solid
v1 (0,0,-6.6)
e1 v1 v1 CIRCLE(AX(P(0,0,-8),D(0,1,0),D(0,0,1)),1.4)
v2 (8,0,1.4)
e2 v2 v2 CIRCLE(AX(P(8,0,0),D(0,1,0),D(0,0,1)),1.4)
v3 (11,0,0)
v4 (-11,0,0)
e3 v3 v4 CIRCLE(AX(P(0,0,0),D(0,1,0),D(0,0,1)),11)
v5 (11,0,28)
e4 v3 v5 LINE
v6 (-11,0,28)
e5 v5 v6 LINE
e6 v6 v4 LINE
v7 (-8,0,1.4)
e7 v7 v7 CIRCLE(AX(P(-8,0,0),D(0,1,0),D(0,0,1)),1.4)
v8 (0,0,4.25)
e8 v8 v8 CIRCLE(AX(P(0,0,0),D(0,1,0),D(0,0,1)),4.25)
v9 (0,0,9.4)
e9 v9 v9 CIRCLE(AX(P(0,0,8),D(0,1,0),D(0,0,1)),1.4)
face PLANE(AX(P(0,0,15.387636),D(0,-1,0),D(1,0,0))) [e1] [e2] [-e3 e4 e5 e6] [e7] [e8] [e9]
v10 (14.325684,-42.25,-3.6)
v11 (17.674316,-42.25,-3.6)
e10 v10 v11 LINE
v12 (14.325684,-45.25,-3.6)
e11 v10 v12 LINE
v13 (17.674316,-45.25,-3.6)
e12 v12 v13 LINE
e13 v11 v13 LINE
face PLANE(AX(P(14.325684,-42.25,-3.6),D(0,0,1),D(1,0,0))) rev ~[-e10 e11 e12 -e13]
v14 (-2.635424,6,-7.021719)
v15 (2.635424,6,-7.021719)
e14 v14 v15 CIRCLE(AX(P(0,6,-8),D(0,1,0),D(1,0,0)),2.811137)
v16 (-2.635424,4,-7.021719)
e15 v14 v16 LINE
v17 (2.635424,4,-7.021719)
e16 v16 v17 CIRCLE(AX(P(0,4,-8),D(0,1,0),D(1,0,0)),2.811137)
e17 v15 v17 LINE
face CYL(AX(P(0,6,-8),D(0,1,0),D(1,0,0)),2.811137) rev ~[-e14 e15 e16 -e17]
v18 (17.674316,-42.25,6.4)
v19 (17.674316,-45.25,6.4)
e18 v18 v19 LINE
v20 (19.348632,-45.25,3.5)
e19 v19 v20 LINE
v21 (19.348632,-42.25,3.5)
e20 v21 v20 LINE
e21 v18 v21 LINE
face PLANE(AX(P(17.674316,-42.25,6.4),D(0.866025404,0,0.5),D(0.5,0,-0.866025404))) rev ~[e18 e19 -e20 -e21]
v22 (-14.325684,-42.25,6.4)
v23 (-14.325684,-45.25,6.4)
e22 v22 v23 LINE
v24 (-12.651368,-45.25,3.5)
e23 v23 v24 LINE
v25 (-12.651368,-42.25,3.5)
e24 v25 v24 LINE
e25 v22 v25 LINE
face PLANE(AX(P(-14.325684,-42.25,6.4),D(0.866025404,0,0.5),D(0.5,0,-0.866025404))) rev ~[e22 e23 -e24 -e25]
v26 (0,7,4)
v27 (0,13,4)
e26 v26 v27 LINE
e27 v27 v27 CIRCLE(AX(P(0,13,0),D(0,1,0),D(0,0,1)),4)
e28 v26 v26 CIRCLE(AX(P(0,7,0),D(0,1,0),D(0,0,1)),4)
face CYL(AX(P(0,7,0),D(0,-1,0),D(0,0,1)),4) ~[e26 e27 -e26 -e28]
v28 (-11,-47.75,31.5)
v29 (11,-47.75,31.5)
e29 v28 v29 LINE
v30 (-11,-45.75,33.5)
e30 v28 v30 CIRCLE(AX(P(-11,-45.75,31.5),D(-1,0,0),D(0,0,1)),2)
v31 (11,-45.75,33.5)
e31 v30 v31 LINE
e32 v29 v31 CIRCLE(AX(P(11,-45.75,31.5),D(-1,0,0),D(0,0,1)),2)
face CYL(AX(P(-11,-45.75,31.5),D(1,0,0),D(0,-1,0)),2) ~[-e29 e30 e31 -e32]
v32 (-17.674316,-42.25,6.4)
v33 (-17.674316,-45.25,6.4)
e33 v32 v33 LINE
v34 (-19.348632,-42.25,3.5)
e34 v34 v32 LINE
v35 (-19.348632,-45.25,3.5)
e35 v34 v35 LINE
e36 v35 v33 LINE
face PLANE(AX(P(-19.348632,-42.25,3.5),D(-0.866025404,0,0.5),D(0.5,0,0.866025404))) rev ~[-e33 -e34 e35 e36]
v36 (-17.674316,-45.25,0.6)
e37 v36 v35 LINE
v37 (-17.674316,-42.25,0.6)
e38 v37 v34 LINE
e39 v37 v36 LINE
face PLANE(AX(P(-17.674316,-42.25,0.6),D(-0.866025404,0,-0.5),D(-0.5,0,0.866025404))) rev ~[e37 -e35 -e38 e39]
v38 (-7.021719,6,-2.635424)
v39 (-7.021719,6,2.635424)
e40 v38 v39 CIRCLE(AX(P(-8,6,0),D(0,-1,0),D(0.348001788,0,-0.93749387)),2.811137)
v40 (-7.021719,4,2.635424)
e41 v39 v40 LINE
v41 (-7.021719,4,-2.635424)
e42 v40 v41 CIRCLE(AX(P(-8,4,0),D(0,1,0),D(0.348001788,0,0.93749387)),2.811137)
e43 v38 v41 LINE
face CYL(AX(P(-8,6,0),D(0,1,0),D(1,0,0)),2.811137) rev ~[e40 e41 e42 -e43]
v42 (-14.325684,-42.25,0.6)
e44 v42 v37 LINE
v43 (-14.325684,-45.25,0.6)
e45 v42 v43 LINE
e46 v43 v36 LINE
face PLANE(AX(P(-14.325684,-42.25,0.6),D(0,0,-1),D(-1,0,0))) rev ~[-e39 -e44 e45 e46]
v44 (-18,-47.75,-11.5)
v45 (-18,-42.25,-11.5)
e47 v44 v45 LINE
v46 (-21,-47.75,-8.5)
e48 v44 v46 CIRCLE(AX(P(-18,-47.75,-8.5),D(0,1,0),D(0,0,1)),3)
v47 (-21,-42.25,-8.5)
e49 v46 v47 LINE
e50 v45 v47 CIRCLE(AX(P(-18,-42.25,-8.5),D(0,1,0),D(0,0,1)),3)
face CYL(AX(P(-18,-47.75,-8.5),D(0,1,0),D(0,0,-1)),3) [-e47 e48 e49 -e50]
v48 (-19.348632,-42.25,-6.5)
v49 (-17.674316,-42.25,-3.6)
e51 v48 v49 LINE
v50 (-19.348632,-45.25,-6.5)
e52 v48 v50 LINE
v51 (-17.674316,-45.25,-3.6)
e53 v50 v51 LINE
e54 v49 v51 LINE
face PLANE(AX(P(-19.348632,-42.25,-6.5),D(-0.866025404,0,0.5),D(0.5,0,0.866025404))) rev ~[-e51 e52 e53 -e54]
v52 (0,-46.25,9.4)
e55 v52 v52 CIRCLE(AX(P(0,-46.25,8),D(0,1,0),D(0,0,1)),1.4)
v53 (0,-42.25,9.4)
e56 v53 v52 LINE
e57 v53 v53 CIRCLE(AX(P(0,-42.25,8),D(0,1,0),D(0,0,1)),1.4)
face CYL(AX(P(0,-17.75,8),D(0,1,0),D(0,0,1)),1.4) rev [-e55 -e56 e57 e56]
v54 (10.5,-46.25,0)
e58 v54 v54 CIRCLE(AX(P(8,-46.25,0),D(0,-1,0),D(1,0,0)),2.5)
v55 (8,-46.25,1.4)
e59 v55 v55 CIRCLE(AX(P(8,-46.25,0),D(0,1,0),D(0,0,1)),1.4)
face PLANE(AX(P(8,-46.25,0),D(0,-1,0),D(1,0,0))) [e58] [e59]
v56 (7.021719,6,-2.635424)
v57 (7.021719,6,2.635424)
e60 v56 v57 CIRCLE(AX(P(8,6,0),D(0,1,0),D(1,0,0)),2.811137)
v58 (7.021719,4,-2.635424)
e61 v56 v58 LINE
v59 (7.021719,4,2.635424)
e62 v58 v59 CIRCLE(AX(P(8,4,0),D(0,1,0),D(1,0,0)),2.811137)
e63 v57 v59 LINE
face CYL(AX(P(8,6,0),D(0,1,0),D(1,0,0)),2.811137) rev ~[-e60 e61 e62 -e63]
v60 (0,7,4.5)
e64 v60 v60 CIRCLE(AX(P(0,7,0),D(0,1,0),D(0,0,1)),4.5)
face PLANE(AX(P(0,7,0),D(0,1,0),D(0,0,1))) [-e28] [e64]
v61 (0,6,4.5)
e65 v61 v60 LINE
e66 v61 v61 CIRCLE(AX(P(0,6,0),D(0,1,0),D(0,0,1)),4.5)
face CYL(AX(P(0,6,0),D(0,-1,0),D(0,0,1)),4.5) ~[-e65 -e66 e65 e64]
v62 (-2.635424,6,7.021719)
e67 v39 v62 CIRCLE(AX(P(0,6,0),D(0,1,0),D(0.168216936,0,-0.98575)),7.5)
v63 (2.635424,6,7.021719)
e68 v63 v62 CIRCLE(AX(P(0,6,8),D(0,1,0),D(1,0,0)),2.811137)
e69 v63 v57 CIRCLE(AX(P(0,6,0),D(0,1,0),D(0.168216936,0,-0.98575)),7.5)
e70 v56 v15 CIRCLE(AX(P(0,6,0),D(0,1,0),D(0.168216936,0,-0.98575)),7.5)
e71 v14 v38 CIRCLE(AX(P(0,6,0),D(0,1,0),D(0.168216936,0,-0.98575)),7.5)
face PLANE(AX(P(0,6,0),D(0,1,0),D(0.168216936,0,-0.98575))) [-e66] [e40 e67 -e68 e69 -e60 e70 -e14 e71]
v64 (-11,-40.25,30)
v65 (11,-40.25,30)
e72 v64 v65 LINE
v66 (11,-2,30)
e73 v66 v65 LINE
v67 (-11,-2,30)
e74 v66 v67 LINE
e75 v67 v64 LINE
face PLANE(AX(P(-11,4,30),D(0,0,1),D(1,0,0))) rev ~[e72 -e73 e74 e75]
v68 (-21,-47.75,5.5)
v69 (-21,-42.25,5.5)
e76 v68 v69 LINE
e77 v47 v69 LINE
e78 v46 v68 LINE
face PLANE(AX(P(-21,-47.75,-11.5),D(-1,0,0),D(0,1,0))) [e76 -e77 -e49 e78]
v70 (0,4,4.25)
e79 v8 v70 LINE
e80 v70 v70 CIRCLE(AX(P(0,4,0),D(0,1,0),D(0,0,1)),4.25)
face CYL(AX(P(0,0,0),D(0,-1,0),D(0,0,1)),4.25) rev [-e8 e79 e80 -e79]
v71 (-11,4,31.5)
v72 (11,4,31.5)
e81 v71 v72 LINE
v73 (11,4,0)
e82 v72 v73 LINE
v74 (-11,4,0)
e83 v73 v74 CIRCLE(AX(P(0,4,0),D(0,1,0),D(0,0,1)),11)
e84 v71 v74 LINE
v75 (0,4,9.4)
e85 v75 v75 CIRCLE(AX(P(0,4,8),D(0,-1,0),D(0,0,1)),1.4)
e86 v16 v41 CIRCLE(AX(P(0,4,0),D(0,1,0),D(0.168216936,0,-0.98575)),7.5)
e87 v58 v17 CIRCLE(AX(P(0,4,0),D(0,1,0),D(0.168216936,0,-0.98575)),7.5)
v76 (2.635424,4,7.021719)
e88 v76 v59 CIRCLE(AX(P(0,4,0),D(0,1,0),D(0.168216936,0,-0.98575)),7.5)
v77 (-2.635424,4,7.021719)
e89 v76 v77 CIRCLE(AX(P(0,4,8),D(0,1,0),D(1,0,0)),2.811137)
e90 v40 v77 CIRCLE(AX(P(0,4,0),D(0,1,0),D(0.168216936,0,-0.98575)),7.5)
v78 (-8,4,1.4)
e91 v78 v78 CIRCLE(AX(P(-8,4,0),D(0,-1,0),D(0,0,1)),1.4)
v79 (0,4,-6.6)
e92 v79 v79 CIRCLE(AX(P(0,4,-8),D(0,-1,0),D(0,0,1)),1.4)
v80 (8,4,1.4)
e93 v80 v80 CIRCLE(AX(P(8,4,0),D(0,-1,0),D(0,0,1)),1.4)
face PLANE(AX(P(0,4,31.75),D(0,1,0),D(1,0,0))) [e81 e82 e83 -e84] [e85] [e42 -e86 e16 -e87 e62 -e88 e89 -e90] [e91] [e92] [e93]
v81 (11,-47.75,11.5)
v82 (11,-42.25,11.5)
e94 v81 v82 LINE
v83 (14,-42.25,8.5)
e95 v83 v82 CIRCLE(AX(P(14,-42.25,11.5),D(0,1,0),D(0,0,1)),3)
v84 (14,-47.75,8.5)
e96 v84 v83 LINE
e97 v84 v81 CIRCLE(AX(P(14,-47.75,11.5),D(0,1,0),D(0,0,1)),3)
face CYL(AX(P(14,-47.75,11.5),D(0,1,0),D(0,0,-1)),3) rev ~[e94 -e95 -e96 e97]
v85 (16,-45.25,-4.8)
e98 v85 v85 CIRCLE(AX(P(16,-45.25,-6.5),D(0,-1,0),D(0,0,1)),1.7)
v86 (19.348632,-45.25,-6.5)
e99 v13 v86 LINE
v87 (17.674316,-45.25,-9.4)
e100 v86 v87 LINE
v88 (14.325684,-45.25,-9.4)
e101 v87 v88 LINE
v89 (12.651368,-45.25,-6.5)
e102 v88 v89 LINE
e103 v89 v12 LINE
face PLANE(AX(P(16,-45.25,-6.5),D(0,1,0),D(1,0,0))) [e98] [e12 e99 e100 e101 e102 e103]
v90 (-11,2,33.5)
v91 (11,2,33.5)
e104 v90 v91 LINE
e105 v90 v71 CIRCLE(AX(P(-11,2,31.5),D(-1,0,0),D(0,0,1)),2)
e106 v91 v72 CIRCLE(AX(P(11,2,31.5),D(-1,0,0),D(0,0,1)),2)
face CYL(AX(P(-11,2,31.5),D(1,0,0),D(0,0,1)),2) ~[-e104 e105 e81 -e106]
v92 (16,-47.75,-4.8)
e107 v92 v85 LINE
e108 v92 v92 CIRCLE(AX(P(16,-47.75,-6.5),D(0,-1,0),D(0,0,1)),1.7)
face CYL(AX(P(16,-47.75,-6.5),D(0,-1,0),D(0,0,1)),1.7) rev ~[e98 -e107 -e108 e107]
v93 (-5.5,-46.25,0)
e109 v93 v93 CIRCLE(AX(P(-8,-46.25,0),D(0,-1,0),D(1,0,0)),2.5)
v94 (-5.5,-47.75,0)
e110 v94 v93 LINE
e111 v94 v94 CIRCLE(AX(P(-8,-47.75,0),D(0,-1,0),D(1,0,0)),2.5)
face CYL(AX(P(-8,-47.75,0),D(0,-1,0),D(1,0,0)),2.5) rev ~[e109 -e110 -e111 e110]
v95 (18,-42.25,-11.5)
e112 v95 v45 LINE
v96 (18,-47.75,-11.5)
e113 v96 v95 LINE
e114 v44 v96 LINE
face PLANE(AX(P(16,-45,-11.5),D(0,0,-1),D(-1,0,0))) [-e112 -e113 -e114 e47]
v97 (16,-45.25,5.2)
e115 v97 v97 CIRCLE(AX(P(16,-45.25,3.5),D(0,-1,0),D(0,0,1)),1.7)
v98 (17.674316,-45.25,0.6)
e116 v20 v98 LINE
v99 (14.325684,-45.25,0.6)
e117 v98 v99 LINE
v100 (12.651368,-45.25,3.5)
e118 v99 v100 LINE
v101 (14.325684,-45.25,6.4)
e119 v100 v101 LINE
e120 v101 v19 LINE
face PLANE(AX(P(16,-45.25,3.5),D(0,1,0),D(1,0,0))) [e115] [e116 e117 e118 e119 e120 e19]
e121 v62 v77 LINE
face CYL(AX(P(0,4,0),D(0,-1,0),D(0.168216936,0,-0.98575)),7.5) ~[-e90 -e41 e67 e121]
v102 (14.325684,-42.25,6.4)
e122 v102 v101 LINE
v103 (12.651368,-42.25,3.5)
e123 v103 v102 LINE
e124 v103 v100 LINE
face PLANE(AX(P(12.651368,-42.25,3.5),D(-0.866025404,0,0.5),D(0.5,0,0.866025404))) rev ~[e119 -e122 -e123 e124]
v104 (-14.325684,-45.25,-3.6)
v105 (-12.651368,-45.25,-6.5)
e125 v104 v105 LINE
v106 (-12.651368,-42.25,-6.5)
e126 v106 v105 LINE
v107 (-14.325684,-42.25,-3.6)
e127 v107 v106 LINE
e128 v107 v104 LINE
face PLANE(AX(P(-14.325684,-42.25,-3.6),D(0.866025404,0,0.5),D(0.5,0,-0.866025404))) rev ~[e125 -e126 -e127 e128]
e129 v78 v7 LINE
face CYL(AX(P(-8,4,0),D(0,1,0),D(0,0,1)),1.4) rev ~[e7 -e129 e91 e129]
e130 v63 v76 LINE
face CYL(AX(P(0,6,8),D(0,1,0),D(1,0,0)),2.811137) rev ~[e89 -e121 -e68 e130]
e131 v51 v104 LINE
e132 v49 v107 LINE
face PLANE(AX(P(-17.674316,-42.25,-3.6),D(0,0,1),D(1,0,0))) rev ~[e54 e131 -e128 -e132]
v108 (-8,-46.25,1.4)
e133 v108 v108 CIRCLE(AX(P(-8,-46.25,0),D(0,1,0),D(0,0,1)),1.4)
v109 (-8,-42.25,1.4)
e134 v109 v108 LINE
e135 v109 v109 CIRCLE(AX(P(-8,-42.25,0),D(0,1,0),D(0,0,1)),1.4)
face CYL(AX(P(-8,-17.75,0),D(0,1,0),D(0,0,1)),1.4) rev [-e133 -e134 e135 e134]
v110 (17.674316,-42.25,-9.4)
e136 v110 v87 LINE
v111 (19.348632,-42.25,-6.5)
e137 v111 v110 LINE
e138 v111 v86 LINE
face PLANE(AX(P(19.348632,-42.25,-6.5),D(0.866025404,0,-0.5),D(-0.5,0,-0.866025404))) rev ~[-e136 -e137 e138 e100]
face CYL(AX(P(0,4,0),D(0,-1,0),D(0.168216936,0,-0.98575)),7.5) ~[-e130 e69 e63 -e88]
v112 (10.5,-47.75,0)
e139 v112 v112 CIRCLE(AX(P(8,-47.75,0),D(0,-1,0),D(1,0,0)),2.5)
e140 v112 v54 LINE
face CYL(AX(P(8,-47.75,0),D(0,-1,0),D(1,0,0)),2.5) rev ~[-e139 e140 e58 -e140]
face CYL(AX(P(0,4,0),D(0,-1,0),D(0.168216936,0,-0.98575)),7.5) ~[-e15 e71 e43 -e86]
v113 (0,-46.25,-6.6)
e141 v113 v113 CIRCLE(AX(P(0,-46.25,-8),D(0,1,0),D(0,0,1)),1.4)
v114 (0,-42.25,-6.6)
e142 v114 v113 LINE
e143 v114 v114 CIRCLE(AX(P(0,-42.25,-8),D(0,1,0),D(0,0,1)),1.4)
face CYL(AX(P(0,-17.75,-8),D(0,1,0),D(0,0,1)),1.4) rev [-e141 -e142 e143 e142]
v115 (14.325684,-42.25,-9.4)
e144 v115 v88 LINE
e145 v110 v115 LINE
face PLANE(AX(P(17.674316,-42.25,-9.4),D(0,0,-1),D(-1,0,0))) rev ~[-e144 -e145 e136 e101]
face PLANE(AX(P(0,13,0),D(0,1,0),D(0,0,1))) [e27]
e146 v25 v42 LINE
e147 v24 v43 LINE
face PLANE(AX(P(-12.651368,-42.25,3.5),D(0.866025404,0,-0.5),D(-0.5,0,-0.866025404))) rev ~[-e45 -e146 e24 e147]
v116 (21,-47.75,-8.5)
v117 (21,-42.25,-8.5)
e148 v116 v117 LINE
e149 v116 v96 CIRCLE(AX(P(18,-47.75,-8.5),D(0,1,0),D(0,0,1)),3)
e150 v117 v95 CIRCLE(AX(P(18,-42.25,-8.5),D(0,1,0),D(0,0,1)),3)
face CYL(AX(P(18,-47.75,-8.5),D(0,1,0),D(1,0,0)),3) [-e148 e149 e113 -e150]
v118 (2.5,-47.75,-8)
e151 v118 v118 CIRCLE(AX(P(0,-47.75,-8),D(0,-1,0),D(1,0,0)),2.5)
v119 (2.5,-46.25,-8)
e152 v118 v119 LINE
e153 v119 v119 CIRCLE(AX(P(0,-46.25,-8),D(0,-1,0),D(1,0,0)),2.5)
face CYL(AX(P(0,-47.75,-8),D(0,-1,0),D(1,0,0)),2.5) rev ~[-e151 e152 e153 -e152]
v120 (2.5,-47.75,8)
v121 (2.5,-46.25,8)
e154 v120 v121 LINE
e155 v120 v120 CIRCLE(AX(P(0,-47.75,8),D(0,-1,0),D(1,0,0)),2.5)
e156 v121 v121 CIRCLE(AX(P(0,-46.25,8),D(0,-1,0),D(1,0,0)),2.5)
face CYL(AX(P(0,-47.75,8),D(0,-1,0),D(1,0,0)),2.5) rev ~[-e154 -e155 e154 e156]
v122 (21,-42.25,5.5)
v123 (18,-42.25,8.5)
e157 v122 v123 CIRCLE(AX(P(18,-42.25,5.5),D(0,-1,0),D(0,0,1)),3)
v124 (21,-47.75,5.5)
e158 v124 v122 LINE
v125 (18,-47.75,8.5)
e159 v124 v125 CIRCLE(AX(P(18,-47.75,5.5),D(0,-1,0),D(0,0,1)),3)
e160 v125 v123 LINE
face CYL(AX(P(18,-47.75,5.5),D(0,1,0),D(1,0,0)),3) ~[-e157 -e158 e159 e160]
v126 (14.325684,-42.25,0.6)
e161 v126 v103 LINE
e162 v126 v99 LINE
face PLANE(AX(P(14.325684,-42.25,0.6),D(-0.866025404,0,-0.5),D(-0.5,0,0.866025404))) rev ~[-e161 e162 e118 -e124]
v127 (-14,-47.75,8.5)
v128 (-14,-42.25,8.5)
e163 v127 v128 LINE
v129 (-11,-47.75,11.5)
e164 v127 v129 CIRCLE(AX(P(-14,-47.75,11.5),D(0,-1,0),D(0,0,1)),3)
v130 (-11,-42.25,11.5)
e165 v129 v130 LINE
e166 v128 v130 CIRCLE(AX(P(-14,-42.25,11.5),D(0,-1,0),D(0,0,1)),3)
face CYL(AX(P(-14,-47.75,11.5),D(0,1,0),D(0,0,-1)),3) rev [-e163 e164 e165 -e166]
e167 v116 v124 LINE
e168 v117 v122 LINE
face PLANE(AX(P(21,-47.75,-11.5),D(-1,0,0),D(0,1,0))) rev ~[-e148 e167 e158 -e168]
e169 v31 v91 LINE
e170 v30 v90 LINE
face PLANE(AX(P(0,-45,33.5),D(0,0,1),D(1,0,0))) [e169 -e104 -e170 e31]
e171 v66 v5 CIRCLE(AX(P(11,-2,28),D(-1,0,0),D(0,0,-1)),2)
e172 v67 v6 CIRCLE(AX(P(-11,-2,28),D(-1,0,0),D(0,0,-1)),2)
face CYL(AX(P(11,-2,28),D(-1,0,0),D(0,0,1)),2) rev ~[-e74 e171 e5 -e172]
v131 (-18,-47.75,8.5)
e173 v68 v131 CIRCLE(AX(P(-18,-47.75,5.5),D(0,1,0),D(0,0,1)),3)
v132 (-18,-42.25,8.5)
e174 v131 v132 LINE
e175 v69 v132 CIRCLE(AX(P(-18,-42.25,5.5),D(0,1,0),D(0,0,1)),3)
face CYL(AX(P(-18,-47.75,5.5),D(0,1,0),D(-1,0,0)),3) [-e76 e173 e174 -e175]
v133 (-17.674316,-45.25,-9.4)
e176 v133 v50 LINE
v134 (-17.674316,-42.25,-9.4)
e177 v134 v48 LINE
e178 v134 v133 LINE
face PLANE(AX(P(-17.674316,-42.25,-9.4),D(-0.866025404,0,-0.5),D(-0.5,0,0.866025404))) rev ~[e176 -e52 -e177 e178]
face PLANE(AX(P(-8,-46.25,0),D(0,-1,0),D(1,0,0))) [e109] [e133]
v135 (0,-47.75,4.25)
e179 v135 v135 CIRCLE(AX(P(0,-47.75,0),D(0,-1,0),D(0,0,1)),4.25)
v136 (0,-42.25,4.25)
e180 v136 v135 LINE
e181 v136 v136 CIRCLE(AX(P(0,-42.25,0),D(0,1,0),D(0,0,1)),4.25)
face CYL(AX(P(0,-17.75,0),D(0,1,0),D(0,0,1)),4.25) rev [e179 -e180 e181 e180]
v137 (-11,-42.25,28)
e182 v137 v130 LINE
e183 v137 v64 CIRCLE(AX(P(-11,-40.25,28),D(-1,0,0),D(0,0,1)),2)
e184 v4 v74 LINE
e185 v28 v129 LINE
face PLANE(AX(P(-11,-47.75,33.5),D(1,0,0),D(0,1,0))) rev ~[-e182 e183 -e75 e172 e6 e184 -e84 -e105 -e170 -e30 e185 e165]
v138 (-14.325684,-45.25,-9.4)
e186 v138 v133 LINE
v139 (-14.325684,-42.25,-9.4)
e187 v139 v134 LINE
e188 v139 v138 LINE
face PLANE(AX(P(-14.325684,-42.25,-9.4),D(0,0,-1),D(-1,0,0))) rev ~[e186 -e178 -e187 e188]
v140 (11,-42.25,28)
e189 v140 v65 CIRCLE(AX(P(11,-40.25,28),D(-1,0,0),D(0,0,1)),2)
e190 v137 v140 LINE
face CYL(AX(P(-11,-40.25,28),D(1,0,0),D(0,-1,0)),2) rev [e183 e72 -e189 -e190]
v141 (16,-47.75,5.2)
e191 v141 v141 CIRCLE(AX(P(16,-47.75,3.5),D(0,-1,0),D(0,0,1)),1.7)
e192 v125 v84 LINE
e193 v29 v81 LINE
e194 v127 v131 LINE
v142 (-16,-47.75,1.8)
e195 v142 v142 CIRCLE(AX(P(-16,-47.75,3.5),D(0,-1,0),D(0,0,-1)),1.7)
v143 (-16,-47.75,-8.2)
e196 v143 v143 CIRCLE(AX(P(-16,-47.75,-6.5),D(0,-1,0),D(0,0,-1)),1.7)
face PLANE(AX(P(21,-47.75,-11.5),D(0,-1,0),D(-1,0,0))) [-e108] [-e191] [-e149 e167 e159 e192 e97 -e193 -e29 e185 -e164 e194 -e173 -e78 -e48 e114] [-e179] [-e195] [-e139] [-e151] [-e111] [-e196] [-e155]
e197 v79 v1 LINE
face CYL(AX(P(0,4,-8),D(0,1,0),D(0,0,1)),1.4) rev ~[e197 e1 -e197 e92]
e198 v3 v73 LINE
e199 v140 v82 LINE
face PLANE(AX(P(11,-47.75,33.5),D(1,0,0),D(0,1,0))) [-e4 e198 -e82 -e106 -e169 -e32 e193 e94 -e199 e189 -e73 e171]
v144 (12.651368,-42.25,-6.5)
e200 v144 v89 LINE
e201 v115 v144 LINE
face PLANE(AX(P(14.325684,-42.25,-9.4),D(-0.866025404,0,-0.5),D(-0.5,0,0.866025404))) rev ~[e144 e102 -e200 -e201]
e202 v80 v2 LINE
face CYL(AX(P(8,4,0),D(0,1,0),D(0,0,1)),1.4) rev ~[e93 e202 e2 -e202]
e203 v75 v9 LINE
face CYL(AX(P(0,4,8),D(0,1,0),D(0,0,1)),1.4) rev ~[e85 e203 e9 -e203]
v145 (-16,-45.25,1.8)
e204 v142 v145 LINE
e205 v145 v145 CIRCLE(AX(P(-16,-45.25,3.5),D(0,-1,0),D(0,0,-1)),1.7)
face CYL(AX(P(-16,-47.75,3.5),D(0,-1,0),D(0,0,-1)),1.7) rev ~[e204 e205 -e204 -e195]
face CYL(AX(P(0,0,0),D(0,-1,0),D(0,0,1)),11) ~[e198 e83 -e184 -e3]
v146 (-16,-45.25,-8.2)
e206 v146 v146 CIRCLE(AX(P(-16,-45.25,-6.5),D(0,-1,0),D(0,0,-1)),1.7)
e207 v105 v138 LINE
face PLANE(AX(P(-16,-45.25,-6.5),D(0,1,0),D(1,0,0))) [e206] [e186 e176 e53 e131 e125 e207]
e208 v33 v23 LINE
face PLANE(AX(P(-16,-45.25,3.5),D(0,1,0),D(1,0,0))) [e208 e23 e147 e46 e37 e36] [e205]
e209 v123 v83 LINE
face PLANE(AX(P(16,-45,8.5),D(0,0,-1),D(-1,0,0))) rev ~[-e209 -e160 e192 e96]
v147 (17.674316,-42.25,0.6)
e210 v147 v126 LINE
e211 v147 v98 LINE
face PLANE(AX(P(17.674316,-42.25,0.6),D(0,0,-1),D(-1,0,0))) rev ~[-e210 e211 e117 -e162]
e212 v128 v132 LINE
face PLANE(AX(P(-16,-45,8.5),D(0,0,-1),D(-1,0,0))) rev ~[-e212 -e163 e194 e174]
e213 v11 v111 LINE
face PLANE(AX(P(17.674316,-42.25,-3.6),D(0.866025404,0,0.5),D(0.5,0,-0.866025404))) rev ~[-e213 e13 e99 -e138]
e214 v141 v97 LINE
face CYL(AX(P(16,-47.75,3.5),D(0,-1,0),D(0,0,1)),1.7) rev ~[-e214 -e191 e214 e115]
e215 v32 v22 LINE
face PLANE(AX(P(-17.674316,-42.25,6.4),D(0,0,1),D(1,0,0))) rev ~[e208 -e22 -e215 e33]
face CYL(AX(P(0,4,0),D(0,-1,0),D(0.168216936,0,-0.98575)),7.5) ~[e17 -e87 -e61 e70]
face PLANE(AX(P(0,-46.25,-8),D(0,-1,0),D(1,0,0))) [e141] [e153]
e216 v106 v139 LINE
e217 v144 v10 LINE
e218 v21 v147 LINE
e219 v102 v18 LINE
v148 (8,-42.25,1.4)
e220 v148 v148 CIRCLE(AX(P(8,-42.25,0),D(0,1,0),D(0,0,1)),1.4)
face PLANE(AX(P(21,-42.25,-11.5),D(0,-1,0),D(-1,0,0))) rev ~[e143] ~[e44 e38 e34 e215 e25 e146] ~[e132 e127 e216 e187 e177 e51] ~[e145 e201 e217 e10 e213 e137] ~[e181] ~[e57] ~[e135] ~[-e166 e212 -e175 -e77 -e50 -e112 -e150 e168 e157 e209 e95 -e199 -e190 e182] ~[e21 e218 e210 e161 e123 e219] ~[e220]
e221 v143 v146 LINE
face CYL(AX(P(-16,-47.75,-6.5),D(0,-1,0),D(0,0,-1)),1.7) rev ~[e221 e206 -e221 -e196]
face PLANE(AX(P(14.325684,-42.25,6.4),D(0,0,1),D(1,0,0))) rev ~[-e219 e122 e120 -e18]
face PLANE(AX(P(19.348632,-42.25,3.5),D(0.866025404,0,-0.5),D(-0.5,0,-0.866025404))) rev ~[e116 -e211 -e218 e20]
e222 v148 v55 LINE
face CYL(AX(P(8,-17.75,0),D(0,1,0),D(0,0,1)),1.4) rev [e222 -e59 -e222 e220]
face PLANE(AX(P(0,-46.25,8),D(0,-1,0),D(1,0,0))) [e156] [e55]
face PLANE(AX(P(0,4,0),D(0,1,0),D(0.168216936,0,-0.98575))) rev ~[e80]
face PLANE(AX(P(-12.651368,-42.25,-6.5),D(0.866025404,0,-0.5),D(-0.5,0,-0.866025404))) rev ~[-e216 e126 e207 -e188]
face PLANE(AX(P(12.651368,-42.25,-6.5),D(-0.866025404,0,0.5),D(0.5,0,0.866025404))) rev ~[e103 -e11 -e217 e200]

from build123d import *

# Parameters (mm, degrees)
SKETCH1_R           = 11
SKETCH1_R_2         = 4.25
BOSS_EXTRUDE1_DEPTH = 4
SKETCH2_R           = 1.4
CUT_EXTRUDE1_DEPTH  = 17.062378404
SKETCH3_R           = 7.5
BOSS_EXTRUDE2_DEPTH = 2
SKETCH4_R           = 2.811136831
CUT_EXTRUDE2_DEPTH  = 2
SKETCH5_R           = 4.5
BOSS_EXTRUDE3_DEPTH = 7
CUT_EXTRUDE3_START  = -6
SKETCH6_R           = 4.5
SKETCH6_R_2         = 4
CUT_EXTRUDE3_DEPTH  = 6
BOSS_EXTRUDE4_DEPTH = 4
SKETCH13_W          = 22
SKETCH13_H          = 3.5
BOSS_EXTRUDE5_DEPTH = 46.25
SKETCH14_W          = 22
SKETCH14_H          = 5.5
BOSS_EXTRUDE6_DEPTH = 45
CUT_EXTRUDE6_START  = -30
SKETCH16_R          = 4.25
SKETCH16_R_2        = 1.4
CUT_EXTRUDE6_DEPTH  = 30
SKETCH17_W          = 10
SKETCH17_H          = 5.5
BOSS_EXTRUDE7_DEPTH = 20
SKETCH18_R          = 1.7
CUT_EXTRUDE7_DEPTH  = 30
FILLET2_R           = 3
FILLET3_R           = 2
SKETCH19_R          = 2.5
CUT_EXTRUDE8_DEPTH  = 1.5
CUT_EXTRUDE9_DEPTH  = 3


with BuildPart() as part:
    # Sketch1 → Boss-Extrude1 (new body)
    with BuildSketch(Plane(origin=(0, 0, 0), x_dir=(1, 0, 0), z_dir=(0, 1, 0))):
        with Locations(Location((0, 0, 0), (0, 0, 270))):
            Circle(SKETCH1_R)
        with Locations(Location((0, 0, 0), (0, 0, 270))):
            Circle(SKETCH1_R_2, mode=Mode.SUBTRACT)
    extrude(amount=BOSS_EXTRUDE1_DEPTH)

    # Sketch2 → Cut-Extrude1 (cut, through all)
    with BuildSketch(Plane(origin=(0, 4, 0), x_dir=(1, 0, 0), z_dir=(0, 1, 0))):
        with Locations(Location((0, 8, 0), (0, 0, 270))):
            Circle(SKETCH2_R)
        with Locations(Location((8, 0, 0), (0, 0, 270))):
            Circle(SKETCH2_R)
        with Locations(Location((0, -8, 0), (0, 0, 270))):
            Circle(SKETCH2_R)
        with Locations(Location((-8, 0, 0), (0, 0, 270))):
            Circle(SKETCH2_R)
    extrude(amount=-CUT_EXTRUDE1_DEPTH, mode=Mode.SUBTRACT)

    # Sketch3 → Boss-Extrude2 (add)
    with BuildSketch(Plane(origin=(0, 4, 0), x_dir=(1, 0, 0), z_dir=(0, 1, 0))):
        with Locations(Location((0, 0, 0), (0, 0, 80.315835906))):
            Circle(SKETCH3_R)
    extrude(amount=BOSS_EXTRUDE2_DEPTH)

    # Sketch4 → Cut-Extrude2 (cut)
    with BuildSketch(Plane(origin=(0, 6, 0), x_dir=(1, 0, 0), z_dir=(0, 1, 0))):
        with Locations((8, 0)):
            Circle(SKETCH4_R)
        with Locations((0, -8)):
            Circle(SKETCH4_R)
        with Locations((-8, 0)):
            Circle(SKETCH4_R)
        with Locations((0, 8)):
            Circle(SKETCH4_R)
    extrude(amount=-CUT_EXTRUDE2_DEPTH, mode=Mode.SUBTRACT)

    # Sketch5 → Boss-Extrude3 (add)
    with BuildSketch(Plane(origin=(0, 6, 0), x_dir=(1, 0, 0), z_dir=(0, 1, 0))):
        with Locations(Location((0, 0, 0), (0, 0, 270))):
            Circle(SKETCH5_R)
    extrude(amount=BOSS_EXTRUDE3_DEPTH)

    # Sketch6 → Cut-Extrude3 (cut)
    with BuildSketch(Plane(origin=(0, 13, 0), x_dir=(1, 0, 0), z_dir=(0, 1, 0)).offset(CUT_EXTRUDE3_START)):
        with Locations(Location((0, 0, 0), (0, 0, 270))):
            Circle(SKETCH6_R)
        with Locations(Location((0, 0, 0), (0, 0, 270))):
            Circle(SKETCH6_R_2, mode=Mode.SUBTRACT)
    extrude(amount=CUT_EXTRUDE3_DEPTH, mode=Mode.SUBTRACT)

    # Sketch8 → Boss-Extrude4 (add)
    with BuildSketch(Plane.XZ):
        with BuildLine():
            Line((11, 30), (-11, 30))
            Line((-11, 30), (-11, 0))
            ThreePointArc((-11, 0), (0, 11), (11, 0))
            Line((11, 0), (11, 30))
        make_face()
    extrude(amount=-BOSS_EXTRUDE4_DEPTH)

    # Sketch13 → Boss-Extrude5 (add)
    with BuildSketch(Plane(origin=(0, 4, 0), x_dir=(1, 0, 0), z_dir=(0, 1, 0))):
        with Locations((0, -31.75)):
            Rectangle(SKETCH13_W, SKETCH13_H)
    extrude(amount=-BOSS_EXTRUDE5_DEPTH)

    # Sketch14 → Boss-Extrude6 (add)
    with BuildSketch(Plane.XY.offset(33.5)):
        with Locations((0, -45)):
            Rectangle(SKETCH14_W, SKETCH14_H)
    extrude(amount=-BOSS_EXTRUDE6_DEPTH)

    # Sketch16 → Cut-Extrude6 (cut)
    with BuildSketch(Plane.XZ.offset(47.75).offset(CUT_EXTRUDE6_START)):
        with Locations(Location((0, 0, 0), (0, 0, 90))):
            Circle(SKETCH16_R)
        with Locations(Location((-8, 0, 0), (0, 0, 90))):
            Circle(SKETCH16_R_2)
        with Locations(Location((0, -8, 0), (0, 0, 90))):
            Circle(SKETCH16_R_2)
        with Locations(Location((8, 0, 0), (0, 0, 90))):
            Circle(SKETCH16_R_2)
        with Locations(Location((0, 8, 0), (0, 0, 90))):
            Circle(SKETCH16_R_2)
    extrude(amount=CUT_EXTRUDE6_DEPTH, mode=Mode.SUBTRACT)

    # Sketch17 → Boss-Extrude7 (add)
    with BuildSketch(Plane(origin=(0, 0, -11.5), x_dir=(-1, 0, 0), z_dir=(0, 0, -1))):
        with Locations((-16, -45)):
            Rectangle(SKETCH17_W, SKETCH17_H)
        with Locations((16, -45)):
            Rectangle(SKETCH17_W, SKETCH17_H)
    extrude(amount=-BOSS_EXTRUDE7_DEPTH)

    # Sketch18 → Cut-Extrude7 (cut)
    with BuildSketch(Plane(origin=(0, -47.75, 0), x_dir=(-1, 0, 0), z_dir=(0, -1, 0))):
        with Locations(Location((16, -3.5, 0), (0, 0, 90))):
            Circle(SKETCH18_R)
        with Locations(Location((16, 6.5, 0), (0, 0, 90))):
            Circle(SKETCH18_R)
        with Locations(Location((-16, 6.5, 0), (0, 0, 270))):
            Circle(SKETCH18_R)
        with Locations(Location((-16, -3.5, 0), (0, 0, 270))):
            Circle(SKETCH18_R)
    extrude(amount=-CUT_EXTRUDE7_DEPTH, mode=Mode.SUBTRACT)

    # Fillet2
    fillet2_edges = [part.edges().sort_by_distance(p)[0] for p in [
        (21, -45, 8.5),
        (11, -45, 8.5),
        (21, -45, -11.5),
        (-21, -45, 8.5),
        (-11, -45, 8.5),
        (-21, -45, -11.5),
    ]]
    fillet(fillet2_edges, radius=FILLET2_R)

    # Fillet3
    fillet3_edges = [part.edges().sort_by_distance(p)[0] for p in [
        (0, 0, 30),
        (0, -42.25, 30),
        (0, 4, 33.5),
        (0, -47.75, 33.5),
    ]]
    fillet(fillet3_edges, radius=FILLET3_R)

    # Sketch19 → Cut-Extrude8 (cut)
    with BuildSketch(Plane.XZ.offset(47.75)):
        with Locations((-8, 0)):
            Circle(SKETCH19_R)
        with Locations((0, 8)):
            Circle(SKETCH19_R)
        with Locations((8, 0)):
            Circle(SKETCH19_R)
        with Locations((0, -8)):
            Circle(SKETCH19_R)
    extrude(amount=-CUT_EXTRUDE8_DEPTH, mode=Mode.SUBTRACT)

    # Sketch20 → Cut-Extrude9 (cut)
    with BuildSketch(Plane(origin=(0, -42.25, 0), x_dir=(1, 0, 0), z_dir=(0, 1, 0))):
        Polygon((17.674315781, 3.6), (19.348631561, 6.5), (17.674315781, 9.4), (14.325684219, 9.4), (12.651368439, 6.5), (14.325684219, 3.6), align=None)
        Polygon((-14.325684219, 3.6), (-12.651368439, 6.5), (-14.325684219, 9.4), (-17.674315781, 9.4), (-19.348631561, 6.5), (-17.674315781, 3.6), align=None)
        Polygon((17.674315781, -6.4), (19.348631561, -3.5), (17.674315781, -0.6), (14.325684219, -0.6), (12.651368439, -3.5), (14.325684219, -6.4), align=None)
        Polygon((-14.325684219, -6.4), (-12.651368439, -3.5), (-14.325684219, -0.6), (-17.674315781, -0.6), (-19.348631561, -3.5), (-17.674315781, -6.4), align=None)
    extrude(amount=-CUT_EXTRUDE9_DEPTH, mode=Mode.SUBTRACT)


solid = part.part
